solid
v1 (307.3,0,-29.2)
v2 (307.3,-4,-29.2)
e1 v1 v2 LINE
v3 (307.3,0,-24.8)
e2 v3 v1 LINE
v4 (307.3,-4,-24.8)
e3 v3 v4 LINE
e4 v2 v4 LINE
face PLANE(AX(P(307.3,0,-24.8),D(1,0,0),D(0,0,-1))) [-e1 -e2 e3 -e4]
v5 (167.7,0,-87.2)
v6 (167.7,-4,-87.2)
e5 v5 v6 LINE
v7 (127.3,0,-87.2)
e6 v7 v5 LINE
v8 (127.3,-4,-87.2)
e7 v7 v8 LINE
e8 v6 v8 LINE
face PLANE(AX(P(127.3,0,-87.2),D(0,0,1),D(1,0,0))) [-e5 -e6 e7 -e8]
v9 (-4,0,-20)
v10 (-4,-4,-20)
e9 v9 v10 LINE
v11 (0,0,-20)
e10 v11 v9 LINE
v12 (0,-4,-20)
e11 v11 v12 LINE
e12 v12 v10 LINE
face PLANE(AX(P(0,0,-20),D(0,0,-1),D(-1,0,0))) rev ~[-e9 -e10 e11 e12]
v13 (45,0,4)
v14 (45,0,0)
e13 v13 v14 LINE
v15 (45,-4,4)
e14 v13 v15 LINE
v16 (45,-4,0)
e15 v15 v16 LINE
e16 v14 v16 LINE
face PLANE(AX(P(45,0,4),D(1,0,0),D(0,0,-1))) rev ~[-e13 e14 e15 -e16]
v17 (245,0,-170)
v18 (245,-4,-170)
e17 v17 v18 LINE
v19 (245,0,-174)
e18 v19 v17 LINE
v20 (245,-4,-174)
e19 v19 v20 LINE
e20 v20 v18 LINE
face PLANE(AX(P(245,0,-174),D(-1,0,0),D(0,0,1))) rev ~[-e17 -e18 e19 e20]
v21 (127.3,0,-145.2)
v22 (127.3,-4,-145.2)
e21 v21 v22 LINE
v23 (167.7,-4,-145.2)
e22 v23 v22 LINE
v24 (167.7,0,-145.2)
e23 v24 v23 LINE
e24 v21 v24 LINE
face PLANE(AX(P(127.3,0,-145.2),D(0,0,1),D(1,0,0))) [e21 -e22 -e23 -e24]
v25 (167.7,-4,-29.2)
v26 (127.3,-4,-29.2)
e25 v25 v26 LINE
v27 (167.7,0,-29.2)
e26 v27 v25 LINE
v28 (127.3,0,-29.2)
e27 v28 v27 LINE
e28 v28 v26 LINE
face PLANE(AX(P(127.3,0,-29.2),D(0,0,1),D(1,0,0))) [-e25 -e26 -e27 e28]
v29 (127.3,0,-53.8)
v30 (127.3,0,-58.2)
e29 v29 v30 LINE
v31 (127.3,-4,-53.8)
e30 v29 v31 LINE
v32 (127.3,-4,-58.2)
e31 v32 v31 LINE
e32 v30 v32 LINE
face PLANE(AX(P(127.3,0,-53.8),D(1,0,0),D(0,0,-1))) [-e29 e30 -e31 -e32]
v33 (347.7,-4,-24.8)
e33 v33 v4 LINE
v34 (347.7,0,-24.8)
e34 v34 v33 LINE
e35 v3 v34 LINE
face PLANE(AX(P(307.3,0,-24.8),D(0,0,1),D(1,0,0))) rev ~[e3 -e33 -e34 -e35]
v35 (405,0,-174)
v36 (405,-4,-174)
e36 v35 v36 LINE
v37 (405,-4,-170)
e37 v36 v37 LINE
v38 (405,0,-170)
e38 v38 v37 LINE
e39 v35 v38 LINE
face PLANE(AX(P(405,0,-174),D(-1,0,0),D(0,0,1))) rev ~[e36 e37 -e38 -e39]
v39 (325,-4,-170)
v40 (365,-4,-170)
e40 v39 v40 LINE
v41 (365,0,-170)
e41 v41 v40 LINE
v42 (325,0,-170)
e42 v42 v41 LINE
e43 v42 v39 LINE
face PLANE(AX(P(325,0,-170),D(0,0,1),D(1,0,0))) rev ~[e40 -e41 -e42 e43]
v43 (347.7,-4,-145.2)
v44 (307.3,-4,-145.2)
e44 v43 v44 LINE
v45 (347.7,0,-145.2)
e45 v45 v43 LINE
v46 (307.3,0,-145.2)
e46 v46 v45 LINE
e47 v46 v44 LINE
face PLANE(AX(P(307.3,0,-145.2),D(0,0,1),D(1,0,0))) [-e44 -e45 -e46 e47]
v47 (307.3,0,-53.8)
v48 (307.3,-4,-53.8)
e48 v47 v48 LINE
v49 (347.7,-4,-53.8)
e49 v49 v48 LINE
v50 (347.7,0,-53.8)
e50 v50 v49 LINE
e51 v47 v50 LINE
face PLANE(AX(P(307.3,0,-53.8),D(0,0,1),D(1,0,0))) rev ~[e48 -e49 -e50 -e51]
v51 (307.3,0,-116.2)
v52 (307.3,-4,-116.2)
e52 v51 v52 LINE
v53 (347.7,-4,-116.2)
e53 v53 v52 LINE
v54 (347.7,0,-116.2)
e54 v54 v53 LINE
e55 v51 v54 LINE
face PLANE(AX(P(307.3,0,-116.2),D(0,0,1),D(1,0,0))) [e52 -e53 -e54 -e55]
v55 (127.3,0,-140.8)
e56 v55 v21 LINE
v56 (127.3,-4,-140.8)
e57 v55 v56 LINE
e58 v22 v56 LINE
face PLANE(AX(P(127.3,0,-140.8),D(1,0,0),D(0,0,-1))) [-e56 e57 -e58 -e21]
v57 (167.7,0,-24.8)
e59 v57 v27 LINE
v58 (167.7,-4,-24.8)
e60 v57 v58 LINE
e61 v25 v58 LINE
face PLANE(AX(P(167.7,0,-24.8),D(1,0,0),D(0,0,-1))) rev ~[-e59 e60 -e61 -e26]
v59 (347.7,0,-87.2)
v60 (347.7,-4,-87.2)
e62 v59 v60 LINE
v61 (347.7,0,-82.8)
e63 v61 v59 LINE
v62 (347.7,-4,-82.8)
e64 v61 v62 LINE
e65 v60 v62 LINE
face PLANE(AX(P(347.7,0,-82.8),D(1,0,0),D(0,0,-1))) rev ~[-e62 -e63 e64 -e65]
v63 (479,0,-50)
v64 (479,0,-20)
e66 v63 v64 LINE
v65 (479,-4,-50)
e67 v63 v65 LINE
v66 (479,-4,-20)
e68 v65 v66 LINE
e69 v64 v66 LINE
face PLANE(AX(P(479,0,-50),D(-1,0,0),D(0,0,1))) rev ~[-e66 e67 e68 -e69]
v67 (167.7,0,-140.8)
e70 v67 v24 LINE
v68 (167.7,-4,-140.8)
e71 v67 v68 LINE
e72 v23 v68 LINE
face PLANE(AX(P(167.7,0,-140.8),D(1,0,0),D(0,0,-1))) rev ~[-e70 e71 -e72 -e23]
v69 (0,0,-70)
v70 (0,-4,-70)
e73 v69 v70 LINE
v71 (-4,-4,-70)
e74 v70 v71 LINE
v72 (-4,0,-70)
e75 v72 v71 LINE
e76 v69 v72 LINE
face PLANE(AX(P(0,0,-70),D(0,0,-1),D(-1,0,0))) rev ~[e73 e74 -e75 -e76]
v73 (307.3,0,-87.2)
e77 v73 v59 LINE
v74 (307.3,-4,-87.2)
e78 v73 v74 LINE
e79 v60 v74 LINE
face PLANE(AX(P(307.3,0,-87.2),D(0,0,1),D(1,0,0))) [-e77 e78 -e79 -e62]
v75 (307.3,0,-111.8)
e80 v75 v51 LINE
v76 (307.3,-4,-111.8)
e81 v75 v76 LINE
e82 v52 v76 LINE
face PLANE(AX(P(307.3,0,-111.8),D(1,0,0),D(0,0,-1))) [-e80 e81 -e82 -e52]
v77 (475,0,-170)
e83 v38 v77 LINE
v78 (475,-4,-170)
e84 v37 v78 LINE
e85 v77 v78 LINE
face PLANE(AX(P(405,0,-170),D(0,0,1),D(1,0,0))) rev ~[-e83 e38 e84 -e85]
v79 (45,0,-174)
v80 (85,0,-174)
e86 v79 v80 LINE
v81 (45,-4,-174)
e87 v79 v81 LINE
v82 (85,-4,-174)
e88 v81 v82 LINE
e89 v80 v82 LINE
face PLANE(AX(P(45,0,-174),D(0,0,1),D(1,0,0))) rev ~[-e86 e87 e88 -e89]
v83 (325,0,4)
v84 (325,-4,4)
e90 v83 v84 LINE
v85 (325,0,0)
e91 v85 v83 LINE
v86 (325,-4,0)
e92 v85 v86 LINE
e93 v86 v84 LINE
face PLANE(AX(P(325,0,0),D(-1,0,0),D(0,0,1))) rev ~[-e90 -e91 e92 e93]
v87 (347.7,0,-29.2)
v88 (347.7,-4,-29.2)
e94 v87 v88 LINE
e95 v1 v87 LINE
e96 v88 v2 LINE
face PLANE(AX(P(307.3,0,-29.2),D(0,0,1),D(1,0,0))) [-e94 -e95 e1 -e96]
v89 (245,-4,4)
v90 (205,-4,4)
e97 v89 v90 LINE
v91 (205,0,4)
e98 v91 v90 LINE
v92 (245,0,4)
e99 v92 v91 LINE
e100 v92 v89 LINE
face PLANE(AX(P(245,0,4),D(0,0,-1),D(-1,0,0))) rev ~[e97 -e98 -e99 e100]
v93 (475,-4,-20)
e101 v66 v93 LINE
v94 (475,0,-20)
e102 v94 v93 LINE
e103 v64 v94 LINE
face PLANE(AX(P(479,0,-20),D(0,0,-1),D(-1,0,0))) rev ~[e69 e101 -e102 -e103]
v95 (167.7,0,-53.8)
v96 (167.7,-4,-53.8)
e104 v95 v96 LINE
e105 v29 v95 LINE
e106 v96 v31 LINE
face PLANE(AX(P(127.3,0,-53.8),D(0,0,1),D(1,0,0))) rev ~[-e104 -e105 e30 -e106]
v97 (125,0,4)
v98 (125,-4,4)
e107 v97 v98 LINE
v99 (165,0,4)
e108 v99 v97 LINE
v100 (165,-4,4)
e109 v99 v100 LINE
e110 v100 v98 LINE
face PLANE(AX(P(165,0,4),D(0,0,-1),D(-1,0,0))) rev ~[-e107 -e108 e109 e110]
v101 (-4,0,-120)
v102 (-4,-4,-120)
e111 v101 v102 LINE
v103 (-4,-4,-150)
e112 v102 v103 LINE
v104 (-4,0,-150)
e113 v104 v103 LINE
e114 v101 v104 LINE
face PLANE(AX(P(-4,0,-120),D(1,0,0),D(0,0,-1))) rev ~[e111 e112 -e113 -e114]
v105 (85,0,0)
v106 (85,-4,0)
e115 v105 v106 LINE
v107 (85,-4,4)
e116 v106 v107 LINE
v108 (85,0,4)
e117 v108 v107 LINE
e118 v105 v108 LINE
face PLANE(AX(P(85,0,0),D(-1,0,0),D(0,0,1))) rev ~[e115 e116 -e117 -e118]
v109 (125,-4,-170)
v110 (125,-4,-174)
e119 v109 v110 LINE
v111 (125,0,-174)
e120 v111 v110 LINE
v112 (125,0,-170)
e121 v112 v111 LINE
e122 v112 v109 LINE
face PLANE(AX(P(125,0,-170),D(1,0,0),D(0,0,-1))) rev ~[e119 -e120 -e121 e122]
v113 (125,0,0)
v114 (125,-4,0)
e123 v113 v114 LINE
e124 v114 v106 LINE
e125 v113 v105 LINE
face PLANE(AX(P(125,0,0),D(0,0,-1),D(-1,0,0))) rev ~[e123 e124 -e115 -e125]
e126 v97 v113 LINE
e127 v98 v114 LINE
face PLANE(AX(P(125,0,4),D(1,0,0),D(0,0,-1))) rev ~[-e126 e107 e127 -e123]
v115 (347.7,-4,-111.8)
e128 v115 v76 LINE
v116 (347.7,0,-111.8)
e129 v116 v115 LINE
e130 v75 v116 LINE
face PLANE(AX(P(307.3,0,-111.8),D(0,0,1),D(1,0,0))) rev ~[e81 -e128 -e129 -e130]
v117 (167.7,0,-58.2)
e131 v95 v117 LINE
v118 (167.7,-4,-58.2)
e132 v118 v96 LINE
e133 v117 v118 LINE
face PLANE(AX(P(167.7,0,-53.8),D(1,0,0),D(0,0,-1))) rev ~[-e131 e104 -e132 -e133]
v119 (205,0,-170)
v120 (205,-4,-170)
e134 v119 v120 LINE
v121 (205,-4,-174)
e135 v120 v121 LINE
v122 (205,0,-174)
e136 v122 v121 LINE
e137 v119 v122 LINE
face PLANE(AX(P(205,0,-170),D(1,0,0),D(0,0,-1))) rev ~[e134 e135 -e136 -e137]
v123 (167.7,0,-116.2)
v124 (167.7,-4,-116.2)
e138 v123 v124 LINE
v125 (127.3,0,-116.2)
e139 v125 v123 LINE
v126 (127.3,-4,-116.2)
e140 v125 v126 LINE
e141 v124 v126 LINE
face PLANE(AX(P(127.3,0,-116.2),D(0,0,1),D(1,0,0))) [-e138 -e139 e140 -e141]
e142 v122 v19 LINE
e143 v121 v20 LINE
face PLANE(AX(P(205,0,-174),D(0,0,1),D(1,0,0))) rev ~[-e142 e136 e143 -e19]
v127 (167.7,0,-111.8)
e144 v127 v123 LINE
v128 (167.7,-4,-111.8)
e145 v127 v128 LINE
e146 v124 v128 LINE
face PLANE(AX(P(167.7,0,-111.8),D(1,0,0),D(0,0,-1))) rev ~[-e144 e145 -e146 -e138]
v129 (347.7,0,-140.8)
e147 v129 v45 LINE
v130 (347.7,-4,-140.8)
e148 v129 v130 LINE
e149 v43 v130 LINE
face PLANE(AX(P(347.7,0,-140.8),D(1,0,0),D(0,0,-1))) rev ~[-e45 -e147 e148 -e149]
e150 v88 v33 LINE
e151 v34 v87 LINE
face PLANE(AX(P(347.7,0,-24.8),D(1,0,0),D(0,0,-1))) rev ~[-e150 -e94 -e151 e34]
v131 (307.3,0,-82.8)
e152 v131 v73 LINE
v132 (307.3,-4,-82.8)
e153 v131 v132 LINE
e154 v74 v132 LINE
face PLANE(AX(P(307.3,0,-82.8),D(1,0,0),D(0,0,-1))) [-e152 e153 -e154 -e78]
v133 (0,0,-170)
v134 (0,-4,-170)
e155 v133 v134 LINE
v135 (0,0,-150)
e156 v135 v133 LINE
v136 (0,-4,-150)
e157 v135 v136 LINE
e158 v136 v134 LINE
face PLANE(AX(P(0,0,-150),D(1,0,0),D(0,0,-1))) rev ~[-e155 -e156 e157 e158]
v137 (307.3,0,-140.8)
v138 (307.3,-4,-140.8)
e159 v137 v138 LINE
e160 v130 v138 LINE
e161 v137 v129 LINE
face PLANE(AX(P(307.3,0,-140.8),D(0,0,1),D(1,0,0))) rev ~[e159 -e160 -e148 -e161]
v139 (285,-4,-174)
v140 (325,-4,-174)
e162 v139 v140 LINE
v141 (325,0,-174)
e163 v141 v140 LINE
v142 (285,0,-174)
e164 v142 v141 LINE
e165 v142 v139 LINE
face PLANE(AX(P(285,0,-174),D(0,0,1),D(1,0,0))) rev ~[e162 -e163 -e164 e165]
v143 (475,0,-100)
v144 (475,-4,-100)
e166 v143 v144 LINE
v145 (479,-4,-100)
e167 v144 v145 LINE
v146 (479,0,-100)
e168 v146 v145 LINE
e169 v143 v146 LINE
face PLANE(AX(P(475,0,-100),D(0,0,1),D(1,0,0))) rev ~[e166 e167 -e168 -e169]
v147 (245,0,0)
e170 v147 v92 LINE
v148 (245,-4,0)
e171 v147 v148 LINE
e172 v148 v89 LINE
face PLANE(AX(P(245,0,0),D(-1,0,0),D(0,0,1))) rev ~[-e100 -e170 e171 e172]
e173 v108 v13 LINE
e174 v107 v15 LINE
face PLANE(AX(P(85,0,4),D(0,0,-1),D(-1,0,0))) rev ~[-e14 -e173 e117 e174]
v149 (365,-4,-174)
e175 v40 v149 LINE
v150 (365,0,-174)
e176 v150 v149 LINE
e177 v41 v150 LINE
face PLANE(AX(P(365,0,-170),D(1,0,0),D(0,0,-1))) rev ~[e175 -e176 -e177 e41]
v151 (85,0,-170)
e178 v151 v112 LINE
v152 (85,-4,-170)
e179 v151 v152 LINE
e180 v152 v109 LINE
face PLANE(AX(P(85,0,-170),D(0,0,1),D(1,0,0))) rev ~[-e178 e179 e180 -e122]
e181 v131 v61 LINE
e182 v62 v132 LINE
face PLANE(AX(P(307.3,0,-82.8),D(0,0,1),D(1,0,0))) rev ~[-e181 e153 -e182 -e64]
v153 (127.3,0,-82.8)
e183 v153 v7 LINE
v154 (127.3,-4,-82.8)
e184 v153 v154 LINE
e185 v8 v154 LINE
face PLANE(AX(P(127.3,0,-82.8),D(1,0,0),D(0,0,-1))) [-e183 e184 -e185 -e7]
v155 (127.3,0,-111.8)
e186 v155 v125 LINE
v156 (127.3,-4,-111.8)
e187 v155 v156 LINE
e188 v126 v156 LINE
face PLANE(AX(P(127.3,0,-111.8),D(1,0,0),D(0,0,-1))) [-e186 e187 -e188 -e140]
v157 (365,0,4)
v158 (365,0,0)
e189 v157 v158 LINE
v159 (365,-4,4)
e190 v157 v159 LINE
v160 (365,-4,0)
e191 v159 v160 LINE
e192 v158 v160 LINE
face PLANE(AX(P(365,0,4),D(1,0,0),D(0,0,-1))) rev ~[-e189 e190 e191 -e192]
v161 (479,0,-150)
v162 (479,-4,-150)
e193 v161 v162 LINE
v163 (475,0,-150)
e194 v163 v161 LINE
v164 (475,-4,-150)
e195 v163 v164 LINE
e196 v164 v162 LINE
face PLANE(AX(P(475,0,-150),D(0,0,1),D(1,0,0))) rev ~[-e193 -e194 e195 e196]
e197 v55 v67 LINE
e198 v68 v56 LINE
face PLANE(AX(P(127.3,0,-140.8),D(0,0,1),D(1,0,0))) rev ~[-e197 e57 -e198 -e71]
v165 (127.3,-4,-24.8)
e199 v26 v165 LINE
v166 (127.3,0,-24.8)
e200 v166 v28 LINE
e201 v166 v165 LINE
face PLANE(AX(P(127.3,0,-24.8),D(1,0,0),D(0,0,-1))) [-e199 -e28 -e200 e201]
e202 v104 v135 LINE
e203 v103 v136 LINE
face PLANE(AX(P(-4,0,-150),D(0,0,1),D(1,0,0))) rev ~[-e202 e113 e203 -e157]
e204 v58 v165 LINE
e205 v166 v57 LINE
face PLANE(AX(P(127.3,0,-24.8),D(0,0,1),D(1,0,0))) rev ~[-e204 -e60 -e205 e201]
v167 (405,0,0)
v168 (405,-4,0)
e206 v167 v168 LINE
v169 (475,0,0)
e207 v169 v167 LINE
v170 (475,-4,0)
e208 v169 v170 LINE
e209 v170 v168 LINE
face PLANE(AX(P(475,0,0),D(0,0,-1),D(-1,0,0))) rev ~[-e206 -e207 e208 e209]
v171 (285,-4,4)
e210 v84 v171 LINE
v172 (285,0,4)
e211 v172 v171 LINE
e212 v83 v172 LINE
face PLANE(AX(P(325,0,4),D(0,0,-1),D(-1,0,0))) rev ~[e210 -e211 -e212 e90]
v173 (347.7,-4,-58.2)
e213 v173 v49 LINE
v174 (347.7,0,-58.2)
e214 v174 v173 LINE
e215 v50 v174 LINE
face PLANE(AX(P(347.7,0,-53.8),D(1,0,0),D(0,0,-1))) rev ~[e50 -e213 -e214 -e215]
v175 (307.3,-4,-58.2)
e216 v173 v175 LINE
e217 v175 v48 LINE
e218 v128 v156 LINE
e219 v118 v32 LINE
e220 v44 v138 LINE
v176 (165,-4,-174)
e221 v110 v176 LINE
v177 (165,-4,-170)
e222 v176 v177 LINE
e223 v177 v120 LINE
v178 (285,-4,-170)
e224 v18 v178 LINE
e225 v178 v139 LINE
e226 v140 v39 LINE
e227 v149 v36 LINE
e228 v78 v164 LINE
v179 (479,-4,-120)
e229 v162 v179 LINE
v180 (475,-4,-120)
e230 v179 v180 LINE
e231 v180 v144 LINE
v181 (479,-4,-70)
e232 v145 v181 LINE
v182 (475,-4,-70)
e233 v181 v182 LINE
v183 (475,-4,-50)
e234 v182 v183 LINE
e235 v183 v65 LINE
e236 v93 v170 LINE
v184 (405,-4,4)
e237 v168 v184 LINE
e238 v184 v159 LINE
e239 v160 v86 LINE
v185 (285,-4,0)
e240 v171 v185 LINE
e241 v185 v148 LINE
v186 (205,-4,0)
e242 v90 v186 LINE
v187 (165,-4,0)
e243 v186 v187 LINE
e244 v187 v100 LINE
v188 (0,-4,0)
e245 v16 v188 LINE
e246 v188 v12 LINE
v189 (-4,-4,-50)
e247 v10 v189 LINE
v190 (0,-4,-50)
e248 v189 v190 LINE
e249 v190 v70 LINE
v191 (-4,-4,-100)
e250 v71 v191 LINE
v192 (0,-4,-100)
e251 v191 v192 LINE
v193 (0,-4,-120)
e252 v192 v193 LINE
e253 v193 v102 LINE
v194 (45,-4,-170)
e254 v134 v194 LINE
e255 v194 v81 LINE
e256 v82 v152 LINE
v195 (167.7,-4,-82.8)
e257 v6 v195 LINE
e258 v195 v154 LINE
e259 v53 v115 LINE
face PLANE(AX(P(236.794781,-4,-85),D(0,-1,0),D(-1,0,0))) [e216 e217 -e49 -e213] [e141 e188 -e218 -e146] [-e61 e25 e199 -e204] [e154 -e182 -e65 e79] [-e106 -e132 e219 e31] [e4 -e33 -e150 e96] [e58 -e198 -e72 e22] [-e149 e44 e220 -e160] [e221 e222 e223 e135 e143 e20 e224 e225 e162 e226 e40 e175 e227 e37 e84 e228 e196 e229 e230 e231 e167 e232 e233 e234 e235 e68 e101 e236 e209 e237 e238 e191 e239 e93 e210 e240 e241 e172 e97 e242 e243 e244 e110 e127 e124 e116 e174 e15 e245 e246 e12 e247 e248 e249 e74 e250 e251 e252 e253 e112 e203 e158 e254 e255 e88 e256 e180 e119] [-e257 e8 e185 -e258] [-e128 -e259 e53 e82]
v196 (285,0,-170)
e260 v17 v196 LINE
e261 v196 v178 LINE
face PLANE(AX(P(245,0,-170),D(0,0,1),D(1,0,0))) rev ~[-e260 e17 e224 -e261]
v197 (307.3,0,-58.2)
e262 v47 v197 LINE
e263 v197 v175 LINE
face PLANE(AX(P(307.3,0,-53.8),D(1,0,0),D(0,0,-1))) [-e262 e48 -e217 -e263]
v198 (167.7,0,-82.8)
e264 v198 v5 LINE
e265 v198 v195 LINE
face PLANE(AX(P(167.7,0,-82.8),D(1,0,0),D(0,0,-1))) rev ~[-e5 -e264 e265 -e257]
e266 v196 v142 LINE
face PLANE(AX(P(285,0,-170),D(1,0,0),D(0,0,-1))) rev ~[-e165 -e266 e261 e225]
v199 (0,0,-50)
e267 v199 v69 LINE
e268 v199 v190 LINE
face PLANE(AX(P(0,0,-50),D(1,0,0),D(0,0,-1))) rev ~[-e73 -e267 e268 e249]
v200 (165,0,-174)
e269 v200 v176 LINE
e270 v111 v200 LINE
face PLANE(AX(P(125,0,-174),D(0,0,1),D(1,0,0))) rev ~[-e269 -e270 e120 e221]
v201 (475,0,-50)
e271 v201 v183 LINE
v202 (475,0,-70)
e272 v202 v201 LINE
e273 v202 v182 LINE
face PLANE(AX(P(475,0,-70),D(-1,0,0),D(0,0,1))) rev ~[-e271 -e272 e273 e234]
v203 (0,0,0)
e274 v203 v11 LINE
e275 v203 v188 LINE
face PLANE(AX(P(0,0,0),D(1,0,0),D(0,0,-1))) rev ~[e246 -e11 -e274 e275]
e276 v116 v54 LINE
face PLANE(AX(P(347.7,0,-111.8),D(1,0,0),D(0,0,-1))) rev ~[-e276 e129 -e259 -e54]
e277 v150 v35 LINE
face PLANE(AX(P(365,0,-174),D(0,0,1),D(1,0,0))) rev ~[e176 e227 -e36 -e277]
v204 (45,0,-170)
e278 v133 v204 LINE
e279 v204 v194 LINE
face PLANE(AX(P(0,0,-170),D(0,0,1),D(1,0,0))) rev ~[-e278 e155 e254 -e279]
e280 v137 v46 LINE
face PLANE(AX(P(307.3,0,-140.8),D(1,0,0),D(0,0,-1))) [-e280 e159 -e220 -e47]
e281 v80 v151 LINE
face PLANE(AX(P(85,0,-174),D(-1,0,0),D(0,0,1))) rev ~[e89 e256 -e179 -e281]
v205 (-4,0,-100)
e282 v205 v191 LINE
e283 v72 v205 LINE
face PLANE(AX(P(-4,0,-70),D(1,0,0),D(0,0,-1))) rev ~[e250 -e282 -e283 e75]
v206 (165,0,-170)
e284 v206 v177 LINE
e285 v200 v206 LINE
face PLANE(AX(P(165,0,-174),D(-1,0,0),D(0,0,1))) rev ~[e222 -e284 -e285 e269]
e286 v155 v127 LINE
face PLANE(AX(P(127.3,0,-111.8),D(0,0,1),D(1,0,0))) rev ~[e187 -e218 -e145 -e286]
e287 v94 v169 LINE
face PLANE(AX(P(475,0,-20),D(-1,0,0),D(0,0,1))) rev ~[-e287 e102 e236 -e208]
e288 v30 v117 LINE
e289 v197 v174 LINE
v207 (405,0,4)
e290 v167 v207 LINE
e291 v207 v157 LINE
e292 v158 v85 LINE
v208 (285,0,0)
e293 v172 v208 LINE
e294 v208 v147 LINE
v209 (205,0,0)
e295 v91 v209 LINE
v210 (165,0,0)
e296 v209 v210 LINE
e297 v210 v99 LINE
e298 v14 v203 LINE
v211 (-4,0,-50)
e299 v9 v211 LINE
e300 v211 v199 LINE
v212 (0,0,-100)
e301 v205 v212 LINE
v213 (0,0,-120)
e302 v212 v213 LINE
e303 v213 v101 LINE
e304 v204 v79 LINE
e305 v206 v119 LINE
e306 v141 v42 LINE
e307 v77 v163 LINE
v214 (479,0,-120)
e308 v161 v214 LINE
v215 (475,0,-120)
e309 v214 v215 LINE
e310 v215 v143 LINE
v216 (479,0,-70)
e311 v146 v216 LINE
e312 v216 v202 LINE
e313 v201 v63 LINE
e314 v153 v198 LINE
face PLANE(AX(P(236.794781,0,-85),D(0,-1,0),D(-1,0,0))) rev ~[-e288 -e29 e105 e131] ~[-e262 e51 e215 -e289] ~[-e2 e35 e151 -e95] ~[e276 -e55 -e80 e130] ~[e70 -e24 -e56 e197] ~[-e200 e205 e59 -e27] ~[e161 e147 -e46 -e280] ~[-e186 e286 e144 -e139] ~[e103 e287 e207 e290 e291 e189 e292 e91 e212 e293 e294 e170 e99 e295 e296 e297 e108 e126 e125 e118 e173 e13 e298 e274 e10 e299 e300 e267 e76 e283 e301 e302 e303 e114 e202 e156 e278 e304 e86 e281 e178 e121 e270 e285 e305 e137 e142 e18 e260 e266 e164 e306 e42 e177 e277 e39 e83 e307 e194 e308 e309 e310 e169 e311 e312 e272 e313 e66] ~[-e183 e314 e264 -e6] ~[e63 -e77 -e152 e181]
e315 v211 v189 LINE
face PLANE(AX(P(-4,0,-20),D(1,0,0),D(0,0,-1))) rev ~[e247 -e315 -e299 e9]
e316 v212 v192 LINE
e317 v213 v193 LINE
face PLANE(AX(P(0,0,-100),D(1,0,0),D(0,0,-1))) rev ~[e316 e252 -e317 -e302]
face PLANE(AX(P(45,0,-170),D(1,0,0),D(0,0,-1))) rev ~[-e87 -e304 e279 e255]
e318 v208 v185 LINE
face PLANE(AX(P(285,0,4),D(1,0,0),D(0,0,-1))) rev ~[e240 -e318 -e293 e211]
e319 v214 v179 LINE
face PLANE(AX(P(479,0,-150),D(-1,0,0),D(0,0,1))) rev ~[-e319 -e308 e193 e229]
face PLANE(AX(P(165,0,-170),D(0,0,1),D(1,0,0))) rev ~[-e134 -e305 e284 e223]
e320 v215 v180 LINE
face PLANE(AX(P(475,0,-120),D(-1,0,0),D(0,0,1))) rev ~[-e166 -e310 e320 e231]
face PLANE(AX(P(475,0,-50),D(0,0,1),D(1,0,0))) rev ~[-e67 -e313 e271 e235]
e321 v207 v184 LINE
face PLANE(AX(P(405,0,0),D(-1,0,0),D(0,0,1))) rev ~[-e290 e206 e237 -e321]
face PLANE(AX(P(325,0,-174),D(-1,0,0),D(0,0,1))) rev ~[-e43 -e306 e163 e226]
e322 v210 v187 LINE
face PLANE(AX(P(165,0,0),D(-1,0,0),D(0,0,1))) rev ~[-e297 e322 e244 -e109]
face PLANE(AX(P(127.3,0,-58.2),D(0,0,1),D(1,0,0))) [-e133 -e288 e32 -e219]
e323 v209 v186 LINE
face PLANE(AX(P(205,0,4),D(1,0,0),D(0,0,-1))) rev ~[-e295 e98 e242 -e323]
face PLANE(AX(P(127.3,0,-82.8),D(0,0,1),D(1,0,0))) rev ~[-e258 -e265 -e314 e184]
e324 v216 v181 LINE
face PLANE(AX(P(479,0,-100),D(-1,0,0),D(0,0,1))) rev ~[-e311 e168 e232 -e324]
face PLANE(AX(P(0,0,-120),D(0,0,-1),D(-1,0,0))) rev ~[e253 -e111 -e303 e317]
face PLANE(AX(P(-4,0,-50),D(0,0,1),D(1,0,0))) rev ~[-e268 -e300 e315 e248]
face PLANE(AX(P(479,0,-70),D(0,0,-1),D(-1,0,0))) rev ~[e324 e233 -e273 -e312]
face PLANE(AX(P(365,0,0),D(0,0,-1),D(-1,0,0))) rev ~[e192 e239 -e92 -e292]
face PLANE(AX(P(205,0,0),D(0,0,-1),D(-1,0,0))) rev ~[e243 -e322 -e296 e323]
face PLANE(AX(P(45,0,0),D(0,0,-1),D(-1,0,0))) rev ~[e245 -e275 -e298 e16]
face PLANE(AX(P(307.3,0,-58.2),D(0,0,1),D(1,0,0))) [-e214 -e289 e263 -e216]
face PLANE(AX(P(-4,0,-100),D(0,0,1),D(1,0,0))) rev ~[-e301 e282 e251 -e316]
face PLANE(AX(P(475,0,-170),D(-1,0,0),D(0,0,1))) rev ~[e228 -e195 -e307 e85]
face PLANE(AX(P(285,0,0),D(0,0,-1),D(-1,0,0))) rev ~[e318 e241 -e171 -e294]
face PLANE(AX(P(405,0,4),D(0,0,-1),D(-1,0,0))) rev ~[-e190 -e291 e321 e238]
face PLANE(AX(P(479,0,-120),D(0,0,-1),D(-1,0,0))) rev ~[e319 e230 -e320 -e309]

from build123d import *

# Parameters (mm, degrees)
EXTRUDE_1_DEPTH     = 4
SKETCH_3_W          = 40.4
SKETCH_3_H          = 4.4
CUT_EXTRUDE_1_DEPTH = 510.640069068


with BuildPart() as part:
    # Эскиз1 → Бобышка-Вытянуть1 (new body)
    with BuildSketch(Plane(origin=(0, 0, 0), x_dir=(1, 0, 0), z_dir=(0, 1, 0))):
        Polygon((0, 0), (0, 20), (-4, 20), (-4, 50), (0, 50), (0, 70), (-4, 70), (-4, 100), (0, 100), (0, 120), (-4, 120), (-4, 150), (0, 150), (0, 170), (45, 170), (45, 174), (85, 174), (85, 170), (125, 170), (125, 174), (165, 174), (165, 170), (205, 170), (205, 174), (245, 174), (245, 170), (285, 170), (285, 174), (325, 174), (325, 170), (365, 170), (365, 174), (405, 174), (405, 170), (475, 170), (475, 150), (479, 150), (479, 120), (475, 120), (475, 100), (479, 100), (479, 70), (475, 70), (475, 50), (479, 50), (479, 20), (475, 20), (475, 0), (405, 0), (405, -4), (365, -4), (365, 0), (325, 0), (325, -4), (285, -4), (285, 0), (245, 0), (245, -4), (205, -4), (205, 0), (165, 0), (165, -4), (125, -4), (125, 0), (85, 0), (85, -4), (45, -4), (45, 0), align=None)
    extrude(amount=-EXTRUDE_1_DEPTH)

    # Эскиз3 → Вырез-Вытянуть1 (cut, through all)
    with BuildSketch(Plane(origin=(0, 0, 0), x_dir=(1, 0, 0), z_dir=(0, 1, 0))):
        with Locations((147.5, 27)):
            Rectangle(SKETCH_3_W, SKETCH_3_H)
        with Locations((327.5, 27)):
            Rectangle(SKETCH_3_W, SKETCH_3_H)
        with Locations((147.5, 56)):
            Rectangle(SKETCH_3_W, SKETCH_3_H)
        with Locations((327.5, 56)):
            Rectangle(SKETCH_3_W, SKETCH_3_H)
        with Locations((147.5, 85)):
            Rectangle(SKETCH_3_W, SKETCH_3_H)
        with Locations((327.5, 85)):
            Rectangle(SKETCH_3_W, SKETCH_3_H)
        with Locations((147.5, 114)):
            Rectangle(SKETCH_3_W, SKETCH_3_H)
        with Locations((327.5, 114)):
            Rectangle(SKETCH_3_W, SKETCH_3_H)
        with Locations((147.5, 143)):
            Rectangle(SKETCH_3_W, SKETCH_3_H)
        with Locations((327.5, 143)):
            Rectangle(SKETCH_3_W, SKETCH_3_H)
    extrude(amount=-CUT_EXTRUDE_1_DEPTH, mode=Mode.SUBTRACT)


solid = part.part
